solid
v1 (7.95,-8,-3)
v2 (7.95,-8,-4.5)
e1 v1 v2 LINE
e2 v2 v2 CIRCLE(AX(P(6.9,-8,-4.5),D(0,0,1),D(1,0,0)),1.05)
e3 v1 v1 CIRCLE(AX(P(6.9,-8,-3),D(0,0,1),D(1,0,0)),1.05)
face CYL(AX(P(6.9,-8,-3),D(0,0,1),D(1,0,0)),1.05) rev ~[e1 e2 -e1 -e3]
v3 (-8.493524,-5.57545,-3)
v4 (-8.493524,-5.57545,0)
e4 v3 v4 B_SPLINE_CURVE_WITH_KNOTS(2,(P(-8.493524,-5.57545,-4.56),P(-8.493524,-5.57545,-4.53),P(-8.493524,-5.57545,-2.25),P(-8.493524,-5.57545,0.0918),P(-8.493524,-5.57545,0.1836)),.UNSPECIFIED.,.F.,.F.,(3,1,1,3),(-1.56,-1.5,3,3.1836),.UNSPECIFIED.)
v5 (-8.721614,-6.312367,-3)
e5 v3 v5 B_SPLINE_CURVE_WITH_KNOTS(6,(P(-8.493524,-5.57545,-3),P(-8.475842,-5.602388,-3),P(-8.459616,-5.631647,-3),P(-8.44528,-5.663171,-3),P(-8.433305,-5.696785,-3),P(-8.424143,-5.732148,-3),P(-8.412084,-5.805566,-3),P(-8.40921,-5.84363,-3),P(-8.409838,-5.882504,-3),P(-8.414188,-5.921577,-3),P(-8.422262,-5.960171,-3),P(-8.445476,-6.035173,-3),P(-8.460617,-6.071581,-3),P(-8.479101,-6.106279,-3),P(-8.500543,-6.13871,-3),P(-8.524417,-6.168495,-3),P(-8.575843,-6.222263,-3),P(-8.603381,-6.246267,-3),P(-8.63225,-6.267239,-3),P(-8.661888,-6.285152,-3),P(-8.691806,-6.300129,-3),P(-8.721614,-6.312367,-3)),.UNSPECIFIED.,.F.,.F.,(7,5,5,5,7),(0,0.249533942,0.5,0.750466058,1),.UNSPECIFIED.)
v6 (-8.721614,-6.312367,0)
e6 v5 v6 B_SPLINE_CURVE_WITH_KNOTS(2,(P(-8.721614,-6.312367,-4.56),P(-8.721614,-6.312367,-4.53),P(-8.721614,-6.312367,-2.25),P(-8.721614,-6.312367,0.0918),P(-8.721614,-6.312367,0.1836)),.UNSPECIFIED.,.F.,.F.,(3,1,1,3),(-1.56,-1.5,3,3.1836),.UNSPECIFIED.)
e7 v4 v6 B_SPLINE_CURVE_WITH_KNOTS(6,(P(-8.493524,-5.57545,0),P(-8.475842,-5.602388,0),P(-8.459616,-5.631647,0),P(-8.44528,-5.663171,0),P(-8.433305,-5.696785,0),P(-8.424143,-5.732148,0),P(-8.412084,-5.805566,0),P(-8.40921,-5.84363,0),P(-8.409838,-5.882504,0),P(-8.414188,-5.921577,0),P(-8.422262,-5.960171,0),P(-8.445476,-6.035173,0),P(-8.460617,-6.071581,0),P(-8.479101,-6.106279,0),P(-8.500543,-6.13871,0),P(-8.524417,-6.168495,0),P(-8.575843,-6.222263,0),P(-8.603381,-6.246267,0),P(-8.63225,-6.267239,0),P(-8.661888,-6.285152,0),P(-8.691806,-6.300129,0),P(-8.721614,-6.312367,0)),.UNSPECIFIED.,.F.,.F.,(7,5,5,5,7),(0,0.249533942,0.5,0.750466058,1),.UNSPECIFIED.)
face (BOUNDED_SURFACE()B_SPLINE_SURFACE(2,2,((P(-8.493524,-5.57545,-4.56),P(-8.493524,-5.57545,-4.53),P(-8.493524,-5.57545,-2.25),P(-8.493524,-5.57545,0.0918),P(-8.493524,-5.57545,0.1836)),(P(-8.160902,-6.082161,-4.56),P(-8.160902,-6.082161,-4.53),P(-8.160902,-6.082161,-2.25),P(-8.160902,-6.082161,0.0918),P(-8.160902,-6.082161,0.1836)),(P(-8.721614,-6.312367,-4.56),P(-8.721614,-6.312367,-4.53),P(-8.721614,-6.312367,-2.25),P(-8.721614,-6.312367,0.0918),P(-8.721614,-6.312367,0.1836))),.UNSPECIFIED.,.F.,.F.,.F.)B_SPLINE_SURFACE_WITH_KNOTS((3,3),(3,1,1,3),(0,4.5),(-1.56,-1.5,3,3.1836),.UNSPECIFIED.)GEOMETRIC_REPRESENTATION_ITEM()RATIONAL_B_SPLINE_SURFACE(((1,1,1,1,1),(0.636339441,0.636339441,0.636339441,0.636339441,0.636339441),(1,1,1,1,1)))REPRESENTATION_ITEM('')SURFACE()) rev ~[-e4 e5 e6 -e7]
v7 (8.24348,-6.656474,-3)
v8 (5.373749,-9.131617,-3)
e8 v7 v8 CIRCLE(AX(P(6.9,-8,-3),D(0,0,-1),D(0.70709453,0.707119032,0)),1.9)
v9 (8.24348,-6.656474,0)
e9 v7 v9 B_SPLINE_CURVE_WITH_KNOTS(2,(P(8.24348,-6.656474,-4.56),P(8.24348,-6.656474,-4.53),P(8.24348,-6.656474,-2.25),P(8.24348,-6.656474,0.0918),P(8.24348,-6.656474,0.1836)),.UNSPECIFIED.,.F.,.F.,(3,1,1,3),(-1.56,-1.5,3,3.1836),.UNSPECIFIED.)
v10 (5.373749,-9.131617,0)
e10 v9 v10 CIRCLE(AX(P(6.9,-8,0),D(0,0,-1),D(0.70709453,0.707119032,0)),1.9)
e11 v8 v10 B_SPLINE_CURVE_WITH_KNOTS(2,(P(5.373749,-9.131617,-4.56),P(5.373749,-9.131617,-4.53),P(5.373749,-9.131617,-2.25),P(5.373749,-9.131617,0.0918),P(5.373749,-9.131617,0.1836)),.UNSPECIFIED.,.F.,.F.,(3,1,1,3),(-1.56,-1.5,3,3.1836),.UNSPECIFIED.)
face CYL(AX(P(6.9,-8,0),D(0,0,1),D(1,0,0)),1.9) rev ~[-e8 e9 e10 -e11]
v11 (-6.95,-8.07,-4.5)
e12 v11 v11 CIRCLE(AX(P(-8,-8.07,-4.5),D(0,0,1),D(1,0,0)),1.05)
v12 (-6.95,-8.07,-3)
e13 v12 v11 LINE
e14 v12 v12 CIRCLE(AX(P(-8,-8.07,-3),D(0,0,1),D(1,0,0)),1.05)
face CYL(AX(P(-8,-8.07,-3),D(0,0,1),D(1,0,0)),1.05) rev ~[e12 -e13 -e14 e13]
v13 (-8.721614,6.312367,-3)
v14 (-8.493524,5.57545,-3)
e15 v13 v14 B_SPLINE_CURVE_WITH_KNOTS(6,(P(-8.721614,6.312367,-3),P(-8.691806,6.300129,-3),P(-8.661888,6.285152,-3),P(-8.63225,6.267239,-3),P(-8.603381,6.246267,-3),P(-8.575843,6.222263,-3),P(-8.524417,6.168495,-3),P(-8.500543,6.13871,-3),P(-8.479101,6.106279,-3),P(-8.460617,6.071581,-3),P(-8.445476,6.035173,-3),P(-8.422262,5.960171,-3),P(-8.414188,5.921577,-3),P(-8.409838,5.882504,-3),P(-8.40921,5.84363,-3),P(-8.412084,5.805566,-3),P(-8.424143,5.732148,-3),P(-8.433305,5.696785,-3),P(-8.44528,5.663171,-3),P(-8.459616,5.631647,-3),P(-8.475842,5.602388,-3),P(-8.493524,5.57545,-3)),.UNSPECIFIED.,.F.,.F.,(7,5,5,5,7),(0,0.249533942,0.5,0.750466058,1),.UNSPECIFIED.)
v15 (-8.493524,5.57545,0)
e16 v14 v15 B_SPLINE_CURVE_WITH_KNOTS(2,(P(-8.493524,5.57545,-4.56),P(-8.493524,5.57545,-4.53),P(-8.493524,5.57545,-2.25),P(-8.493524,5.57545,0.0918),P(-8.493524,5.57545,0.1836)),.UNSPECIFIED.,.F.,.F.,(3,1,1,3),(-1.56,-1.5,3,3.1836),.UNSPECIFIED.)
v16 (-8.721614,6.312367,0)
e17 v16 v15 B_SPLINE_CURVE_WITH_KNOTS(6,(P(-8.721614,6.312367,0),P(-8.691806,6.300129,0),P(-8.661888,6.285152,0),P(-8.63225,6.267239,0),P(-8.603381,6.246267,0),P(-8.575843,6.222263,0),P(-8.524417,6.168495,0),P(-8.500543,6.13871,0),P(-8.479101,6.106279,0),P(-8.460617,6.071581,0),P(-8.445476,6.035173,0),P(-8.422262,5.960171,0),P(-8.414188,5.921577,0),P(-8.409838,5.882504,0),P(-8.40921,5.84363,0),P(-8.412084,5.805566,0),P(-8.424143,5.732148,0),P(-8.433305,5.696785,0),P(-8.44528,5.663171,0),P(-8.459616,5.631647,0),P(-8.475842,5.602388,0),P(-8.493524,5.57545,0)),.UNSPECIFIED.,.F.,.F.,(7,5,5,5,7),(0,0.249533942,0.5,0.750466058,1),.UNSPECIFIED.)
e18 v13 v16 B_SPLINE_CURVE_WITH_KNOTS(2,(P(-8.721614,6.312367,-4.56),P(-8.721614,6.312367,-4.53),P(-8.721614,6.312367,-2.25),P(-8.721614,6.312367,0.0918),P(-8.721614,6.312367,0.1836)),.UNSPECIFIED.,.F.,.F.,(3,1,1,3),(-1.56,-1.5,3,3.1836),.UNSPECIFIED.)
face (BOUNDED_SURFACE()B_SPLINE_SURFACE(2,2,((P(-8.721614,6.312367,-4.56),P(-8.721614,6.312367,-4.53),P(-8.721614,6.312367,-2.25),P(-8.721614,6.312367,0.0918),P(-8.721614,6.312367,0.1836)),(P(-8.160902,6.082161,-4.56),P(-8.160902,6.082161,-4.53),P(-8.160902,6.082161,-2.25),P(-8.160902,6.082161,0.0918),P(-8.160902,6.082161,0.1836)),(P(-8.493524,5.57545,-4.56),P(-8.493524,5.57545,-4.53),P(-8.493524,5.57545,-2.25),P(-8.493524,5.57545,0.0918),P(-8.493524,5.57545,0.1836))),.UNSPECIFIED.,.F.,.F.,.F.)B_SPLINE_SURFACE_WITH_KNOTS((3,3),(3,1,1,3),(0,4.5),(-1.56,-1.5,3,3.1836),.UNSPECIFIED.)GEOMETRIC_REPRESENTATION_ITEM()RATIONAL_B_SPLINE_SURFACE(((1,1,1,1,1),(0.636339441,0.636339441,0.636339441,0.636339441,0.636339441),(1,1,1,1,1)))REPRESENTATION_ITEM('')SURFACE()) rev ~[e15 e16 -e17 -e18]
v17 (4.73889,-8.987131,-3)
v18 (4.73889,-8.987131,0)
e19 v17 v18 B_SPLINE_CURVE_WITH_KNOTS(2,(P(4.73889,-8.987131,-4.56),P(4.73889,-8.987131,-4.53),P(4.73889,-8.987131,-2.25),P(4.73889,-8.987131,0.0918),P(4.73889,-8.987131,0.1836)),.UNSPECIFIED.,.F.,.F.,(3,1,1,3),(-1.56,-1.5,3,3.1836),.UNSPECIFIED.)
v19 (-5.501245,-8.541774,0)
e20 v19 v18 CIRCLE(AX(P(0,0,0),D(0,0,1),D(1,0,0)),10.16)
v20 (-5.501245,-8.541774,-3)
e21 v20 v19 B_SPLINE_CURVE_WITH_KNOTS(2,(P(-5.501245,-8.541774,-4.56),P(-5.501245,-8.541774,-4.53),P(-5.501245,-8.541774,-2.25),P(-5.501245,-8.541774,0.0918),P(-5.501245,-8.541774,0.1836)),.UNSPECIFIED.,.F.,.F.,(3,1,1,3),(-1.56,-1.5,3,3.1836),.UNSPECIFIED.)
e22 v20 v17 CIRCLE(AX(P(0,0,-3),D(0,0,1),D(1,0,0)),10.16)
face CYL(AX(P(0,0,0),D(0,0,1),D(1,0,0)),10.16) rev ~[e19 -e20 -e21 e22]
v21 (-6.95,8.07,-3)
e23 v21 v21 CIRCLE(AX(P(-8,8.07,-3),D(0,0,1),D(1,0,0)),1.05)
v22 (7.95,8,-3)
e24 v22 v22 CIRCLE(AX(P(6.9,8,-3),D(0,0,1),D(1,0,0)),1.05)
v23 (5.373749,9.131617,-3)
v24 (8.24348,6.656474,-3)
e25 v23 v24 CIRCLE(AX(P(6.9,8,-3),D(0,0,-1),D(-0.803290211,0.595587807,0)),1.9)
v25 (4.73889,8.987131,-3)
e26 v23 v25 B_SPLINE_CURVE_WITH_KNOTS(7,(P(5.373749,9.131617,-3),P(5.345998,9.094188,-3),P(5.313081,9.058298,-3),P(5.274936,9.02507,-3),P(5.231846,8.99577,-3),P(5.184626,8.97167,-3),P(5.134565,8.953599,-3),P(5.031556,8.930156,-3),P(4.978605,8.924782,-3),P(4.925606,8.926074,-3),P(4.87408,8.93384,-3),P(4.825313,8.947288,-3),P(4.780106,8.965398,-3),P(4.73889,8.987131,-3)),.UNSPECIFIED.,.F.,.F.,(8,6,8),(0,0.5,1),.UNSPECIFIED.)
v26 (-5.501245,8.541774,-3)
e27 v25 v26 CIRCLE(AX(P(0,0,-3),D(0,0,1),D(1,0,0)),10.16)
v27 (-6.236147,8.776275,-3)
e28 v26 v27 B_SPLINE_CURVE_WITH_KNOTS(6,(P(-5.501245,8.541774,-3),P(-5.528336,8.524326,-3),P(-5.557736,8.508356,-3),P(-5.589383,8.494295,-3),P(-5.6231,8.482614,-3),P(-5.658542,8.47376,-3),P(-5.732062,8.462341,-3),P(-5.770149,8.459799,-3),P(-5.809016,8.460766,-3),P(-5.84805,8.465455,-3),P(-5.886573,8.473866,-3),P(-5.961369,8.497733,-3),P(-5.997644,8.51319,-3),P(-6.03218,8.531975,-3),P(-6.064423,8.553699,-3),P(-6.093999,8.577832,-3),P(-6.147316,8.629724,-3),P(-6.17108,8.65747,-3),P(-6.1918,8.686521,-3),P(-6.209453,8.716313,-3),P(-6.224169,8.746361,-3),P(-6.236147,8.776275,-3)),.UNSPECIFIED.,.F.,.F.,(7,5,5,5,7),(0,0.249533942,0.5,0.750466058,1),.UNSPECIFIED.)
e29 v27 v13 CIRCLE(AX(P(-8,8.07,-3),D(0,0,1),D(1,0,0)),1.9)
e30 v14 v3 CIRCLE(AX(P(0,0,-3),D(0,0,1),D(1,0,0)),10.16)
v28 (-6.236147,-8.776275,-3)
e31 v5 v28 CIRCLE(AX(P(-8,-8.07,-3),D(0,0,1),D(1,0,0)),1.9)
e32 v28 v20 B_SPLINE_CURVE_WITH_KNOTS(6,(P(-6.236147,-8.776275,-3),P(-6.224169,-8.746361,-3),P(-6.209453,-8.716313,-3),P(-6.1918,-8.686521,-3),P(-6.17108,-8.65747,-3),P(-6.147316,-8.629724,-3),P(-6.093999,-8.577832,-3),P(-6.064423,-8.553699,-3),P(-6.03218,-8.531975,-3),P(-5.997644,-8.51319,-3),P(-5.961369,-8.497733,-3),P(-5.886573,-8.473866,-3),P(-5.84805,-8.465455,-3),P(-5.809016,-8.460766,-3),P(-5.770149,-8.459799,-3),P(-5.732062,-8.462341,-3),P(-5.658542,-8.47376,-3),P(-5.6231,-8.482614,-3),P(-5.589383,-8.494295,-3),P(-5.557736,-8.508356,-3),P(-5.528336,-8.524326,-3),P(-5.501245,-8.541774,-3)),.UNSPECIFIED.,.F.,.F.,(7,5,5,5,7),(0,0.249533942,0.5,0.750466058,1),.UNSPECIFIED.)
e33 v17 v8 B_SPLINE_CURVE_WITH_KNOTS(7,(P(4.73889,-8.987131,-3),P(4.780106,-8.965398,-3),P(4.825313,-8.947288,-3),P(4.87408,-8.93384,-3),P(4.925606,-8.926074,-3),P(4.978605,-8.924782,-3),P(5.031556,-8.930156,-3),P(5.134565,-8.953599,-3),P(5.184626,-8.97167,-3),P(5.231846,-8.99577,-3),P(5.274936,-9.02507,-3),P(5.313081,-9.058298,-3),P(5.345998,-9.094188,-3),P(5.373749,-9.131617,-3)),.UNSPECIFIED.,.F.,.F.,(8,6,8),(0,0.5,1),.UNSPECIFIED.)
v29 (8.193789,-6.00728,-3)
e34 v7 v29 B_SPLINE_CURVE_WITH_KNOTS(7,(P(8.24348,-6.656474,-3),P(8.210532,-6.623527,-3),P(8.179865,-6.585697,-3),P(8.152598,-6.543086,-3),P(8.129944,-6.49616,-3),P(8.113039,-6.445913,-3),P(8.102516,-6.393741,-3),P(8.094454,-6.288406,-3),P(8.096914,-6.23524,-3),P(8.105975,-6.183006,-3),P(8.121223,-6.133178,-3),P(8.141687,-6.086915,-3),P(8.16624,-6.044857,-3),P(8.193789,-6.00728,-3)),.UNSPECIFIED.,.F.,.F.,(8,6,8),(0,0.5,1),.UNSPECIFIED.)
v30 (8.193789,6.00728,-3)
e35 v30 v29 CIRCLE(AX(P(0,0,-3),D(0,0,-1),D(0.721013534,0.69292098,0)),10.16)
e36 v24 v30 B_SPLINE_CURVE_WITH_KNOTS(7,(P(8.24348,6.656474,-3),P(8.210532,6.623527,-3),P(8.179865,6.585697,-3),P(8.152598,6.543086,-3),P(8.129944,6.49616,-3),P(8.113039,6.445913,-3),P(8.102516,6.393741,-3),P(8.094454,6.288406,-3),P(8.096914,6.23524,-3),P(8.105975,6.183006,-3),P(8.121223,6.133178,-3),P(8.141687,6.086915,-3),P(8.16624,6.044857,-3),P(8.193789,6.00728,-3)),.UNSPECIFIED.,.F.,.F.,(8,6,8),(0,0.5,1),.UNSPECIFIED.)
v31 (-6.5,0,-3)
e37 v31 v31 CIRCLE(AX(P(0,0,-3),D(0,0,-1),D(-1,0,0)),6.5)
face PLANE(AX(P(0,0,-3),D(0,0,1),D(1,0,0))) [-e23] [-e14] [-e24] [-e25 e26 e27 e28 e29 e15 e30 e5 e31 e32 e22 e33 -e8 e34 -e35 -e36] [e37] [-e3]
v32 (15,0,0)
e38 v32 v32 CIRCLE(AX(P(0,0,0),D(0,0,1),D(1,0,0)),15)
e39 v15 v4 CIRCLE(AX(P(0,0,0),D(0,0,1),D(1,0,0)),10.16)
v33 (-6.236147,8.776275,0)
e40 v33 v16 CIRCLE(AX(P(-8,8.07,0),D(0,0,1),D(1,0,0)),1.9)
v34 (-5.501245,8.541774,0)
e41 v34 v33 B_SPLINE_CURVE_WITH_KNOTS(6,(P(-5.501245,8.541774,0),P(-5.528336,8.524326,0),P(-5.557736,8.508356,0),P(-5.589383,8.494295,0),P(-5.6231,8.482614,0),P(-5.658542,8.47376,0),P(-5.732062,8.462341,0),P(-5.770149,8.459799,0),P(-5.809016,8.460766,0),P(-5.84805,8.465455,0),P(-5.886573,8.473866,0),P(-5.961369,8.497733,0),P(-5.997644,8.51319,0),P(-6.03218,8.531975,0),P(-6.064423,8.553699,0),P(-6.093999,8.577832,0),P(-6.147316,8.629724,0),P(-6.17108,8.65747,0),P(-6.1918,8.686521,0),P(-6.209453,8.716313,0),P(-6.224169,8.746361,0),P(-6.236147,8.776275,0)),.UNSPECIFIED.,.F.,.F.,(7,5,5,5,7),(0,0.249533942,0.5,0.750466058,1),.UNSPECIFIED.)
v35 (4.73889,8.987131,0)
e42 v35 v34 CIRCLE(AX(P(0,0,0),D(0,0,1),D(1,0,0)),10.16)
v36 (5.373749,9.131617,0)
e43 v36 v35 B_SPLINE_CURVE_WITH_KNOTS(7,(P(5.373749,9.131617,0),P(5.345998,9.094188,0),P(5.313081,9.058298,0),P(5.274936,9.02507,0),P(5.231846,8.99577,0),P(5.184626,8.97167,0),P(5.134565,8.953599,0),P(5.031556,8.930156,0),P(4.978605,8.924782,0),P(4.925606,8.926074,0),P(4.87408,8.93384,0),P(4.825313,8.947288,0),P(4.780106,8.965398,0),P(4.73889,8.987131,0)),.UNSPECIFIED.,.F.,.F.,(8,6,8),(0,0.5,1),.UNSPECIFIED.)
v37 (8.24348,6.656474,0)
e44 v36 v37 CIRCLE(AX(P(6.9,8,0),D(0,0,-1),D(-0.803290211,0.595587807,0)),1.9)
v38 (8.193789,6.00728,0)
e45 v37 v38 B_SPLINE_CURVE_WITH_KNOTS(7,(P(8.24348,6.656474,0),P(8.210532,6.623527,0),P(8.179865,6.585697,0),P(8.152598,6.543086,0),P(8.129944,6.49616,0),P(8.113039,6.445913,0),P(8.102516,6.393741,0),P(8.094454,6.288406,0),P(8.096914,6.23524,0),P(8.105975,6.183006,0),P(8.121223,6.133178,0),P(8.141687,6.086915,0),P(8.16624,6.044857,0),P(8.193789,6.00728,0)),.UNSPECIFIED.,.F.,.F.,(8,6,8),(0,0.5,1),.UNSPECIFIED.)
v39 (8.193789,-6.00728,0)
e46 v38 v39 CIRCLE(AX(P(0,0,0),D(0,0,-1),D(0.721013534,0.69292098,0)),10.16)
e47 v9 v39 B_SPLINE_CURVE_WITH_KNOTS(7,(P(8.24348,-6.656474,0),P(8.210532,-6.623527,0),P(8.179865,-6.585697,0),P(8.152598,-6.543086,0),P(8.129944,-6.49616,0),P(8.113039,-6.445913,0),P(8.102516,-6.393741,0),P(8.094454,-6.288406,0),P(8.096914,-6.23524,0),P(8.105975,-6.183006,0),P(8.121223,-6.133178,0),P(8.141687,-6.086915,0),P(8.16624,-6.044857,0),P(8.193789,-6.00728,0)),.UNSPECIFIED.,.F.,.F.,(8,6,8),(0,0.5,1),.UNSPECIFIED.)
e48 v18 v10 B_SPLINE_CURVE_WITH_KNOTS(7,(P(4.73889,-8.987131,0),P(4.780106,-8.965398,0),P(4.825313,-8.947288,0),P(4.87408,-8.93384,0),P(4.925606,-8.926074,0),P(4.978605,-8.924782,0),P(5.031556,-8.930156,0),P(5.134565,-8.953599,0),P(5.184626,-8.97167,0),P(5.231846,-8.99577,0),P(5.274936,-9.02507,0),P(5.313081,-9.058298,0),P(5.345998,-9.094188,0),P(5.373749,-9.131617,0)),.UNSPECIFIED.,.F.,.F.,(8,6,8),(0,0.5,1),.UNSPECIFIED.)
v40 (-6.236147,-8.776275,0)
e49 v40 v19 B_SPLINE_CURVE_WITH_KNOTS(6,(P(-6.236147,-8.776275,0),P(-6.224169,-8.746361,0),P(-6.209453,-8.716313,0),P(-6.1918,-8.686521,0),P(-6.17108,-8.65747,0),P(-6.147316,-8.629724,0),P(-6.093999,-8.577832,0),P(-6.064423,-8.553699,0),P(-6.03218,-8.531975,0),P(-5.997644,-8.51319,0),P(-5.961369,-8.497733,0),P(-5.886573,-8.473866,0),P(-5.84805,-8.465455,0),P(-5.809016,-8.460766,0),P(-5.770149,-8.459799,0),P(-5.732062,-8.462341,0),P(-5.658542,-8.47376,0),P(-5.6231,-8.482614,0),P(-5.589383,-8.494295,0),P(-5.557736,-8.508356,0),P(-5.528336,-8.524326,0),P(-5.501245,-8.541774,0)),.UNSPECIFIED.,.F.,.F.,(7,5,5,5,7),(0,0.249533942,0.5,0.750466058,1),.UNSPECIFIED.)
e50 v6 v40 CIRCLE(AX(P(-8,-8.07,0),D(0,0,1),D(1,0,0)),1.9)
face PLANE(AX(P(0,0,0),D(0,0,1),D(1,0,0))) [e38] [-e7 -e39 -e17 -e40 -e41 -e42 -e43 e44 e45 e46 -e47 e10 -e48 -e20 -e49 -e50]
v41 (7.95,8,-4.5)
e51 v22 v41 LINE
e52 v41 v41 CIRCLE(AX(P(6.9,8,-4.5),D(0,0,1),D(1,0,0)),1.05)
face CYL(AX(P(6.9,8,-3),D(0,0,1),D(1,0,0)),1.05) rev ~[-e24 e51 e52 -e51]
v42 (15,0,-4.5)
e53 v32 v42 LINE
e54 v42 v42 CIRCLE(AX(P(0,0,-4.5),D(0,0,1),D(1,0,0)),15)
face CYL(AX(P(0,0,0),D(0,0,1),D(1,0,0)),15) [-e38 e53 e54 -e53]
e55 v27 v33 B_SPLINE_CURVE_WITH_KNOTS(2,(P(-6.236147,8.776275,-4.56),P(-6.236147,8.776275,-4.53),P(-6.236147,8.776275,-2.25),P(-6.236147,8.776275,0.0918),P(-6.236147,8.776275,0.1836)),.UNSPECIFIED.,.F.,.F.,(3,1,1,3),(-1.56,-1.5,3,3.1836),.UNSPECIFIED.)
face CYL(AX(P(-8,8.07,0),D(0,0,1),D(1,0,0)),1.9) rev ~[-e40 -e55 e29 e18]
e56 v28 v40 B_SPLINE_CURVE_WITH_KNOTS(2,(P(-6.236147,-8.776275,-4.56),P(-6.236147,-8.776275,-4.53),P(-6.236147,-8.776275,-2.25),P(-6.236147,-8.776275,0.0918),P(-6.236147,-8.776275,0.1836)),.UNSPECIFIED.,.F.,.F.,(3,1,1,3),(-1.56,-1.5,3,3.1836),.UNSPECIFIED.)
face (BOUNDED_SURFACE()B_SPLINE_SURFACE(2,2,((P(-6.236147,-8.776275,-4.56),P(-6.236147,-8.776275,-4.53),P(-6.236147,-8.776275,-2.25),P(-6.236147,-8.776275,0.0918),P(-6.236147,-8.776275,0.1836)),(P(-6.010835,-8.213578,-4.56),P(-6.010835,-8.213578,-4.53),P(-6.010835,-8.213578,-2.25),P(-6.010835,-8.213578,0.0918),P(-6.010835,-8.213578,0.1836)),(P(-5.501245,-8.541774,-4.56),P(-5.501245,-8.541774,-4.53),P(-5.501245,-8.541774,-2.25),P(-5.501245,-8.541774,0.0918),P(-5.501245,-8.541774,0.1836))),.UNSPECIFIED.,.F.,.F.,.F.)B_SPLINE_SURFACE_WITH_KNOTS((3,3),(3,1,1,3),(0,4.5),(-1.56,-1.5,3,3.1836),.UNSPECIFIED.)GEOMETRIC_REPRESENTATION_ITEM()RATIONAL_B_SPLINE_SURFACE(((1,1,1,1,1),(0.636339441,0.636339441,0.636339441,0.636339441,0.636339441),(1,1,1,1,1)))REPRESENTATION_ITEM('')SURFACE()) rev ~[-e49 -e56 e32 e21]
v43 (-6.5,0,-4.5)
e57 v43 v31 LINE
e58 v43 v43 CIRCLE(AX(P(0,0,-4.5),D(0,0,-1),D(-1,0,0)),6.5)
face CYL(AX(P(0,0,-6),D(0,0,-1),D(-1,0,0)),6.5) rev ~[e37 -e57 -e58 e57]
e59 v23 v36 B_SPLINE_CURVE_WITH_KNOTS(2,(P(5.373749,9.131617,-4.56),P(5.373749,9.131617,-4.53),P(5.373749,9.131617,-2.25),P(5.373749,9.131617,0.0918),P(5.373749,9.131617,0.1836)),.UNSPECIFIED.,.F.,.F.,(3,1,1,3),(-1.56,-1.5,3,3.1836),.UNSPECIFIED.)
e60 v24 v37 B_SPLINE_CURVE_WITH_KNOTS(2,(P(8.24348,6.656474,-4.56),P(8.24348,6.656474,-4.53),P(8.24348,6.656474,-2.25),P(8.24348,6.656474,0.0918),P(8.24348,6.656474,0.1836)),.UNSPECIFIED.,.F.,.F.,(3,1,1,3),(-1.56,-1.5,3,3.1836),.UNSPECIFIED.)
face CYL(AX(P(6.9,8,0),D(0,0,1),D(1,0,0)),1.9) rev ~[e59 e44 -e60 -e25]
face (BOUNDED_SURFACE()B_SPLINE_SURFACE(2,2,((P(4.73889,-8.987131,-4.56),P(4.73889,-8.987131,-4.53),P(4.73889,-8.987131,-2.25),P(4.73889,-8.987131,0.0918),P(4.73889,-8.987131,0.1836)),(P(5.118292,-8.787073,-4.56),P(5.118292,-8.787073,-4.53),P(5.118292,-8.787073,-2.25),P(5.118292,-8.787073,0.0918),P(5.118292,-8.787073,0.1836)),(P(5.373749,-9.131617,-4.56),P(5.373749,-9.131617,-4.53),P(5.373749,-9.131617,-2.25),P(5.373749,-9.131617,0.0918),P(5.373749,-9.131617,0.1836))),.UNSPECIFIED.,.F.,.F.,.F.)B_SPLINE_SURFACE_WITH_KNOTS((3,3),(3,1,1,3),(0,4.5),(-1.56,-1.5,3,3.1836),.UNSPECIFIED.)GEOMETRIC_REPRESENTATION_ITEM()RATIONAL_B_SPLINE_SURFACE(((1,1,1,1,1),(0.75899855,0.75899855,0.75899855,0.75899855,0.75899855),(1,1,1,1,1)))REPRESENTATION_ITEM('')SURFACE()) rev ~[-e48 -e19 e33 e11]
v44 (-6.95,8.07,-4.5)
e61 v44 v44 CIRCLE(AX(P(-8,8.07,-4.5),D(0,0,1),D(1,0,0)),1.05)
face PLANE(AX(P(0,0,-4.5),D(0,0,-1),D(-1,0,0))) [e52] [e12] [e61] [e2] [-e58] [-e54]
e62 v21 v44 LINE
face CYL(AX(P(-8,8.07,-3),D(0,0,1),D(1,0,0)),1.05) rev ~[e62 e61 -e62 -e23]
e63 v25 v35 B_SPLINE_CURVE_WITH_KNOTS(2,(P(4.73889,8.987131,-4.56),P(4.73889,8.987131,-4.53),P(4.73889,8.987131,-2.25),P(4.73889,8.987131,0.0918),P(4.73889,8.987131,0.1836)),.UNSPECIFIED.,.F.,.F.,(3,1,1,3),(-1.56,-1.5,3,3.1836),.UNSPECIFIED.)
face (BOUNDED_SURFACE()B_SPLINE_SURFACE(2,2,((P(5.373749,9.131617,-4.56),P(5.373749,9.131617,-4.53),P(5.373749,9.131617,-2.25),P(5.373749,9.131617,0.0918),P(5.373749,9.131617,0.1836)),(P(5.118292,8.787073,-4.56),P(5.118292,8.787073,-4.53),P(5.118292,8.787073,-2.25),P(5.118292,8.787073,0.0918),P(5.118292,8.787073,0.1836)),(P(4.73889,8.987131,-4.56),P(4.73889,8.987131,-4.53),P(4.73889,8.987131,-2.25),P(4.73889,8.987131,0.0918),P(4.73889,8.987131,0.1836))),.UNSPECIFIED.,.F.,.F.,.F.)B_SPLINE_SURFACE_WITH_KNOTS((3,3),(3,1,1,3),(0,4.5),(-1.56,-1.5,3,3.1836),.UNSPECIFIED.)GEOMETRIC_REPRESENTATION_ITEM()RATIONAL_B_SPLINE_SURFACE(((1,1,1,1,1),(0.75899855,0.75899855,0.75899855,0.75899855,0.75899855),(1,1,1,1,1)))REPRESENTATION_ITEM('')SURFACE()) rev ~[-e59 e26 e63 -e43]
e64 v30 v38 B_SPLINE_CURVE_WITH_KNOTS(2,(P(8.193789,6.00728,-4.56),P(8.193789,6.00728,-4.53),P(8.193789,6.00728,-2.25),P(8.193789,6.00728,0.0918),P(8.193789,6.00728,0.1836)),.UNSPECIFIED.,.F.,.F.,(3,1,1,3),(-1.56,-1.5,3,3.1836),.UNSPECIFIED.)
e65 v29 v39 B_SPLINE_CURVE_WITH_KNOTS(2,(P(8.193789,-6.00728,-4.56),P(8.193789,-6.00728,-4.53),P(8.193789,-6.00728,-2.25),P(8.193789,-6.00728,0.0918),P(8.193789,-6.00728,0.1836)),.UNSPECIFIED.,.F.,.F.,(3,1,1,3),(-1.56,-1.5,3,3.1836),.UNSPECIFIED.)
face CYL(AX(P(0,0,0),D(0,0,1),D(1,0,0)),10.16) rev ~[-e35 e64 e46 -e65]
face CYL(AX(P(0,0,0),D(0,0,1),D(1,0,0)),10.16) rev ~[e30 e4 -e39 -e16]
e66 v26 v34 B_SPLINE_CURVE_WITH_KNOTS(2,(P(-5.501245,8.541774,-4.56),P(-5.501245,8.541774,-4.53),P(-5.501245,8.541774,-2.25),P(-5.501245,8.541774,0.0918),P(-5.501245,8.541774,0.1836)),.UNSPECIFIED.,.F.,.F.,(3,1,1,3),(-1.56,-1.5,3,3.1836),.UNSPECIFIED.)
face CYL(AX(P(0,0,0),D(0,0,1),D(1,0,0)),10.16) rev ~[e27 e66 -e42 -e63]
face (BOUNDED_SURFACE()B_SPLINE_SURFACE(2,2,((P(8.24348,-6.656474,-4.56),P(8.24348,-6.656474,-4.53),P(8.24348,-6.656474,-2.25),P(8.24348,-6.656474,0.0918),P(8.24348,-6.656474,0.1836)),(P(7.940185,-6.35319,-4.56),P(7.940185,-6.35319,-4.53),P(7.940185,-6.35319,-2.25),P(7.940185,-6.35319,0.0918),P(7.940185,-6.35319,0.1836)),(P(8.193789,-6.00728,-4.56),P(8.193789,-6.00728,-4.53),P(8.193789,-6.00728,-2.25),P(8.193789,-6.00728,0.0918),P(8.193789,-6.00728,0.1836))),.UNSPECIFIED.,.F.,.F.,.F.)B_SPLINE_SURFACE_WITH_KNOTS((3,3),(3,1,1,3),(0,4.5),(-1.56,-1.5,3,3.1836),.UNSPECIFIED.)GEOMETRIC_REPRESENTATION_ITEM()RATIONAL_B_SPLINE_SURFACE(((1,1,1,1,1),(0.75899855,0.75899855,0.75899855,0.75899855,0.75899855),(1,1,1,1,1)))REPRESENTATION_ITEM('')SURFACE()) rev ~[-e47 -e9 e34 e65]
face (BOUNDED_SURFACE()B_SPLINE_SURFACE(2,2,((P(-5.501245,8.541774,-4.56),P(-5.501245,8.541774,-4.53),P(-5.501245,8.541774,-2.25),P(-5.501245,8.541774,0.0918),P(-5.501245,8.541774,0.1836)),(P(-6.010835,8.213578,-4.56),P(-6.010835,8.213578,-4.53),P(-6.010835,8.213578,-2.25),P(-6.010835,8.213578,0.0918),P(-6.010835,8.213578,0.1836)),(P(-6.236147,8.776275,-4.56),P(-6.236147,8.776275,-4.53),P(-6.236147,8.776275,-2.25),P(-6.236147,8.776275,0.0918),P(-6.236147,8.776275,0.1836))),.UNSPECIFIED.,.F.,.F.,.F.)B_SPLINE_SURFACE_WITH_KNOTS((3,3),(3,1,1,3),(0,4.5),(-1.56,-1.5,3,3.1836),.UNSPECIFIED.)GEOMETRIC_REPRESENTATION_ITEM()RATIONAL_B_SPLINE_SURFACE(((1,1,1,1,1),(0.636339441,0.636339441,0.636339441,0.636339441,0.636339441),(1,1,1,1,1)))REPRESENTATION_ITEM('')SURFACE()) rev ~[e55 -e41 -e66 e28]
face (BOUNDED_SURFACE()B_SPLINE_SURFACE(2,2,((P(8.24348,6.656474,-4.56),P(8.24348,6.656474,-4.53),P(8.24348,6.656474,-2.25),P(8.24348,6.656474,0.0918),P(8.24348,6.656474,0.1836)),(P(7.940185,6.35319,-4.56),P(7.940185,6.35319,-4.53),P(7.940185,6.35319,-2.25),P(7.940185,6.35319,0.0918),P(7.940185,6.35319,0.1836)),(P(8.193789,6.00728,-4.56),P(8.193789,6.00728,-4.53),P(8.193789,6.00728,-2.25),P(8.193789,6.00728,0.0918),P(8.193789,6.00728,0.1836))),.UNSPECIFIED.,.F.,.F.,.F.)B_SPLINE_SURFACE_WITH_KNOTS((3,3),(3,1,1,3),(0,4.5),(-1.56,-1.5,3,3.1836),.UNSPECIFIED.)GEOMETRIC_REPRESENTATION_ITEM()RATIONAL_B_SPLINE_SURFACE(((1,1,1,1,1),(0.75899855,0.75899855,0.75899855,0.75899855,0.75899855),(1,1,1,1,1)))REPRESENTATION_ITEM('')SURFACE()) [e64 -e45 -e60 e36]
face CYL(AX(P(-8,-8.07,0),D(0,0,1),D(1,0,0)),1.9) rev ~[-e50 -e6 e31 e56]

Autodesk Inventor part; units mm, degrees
ref_plane "YZ Plane" through (0, 0, 0) normal (1, 0, 0) x (0, 1, 0)
ref_plane "XZ Plane" through (0, 0, 0) normal (0, 1, 0) x (-1, 0, 0)
ref_plane "XY Plane" through (0, 0, 0) normal (0, 0, 1) x (1, 0, 0)
sketch "Sketch8" plane through (0, 0, 0) normal (0, 0, 1) x (1, 0, 0)
  circle A0 centre (0, 0) radius 15
  dimension "d33" = 30
extrude "Extrusion7" add sketch "Sketch8" against normal blind 8
sketch "Sketch10" plane through (0, 0, -8) normal (0, 0, -1) x (-1, 0, 0)
  line L0 (9, 10.07) -> (-29.1, 10.07)
  arc A0 (10, 9.07) -> (9, 10.07) centre (9, 9.07) ccw
  line L1 (10, 9.07) -> (10, -9.07)
  arc A1 (9, -10.07) -> (10, -9.07) centre (9, -9.07) ccw
  line L2 (-29.1, -10.07) -> (9, -10.07)
  line L3 (-29.1, 10.07) -> (-29.1, -10.07)
  line L4 (10.4, -9.07) -> (10.4, 9.07)
  arc A2 (10.4, 9.07) -> (9, 10.47) centre (9, 9.07) ccw
  line L5 (9, 10.47) -> (-29.5, 10.47)
  line L6 (-29.5, 10.47) -> (-29.5, -10.47)
  line L7 (-29.5, -10.47) -> (9, -10.47)
  arc A3 (9, -10.47) -> (10.4, -9.07) centre (9, -9.07) ccw
  dimension "d59" = 0.4
extrude "Extrusion8" cut sketch "Sketch10" against normal blind 2 contours A0 L1 A1 L2 L3 L0 | A3 L7 L6 L5 A2 L4
sketch "Sketch11" plane through (0, 0, -6) normal (0, 0, -1) x (-1, 0, 0)
  circle A0 centre (0, 0) radius 6.4
  circle A1 centre (0, 0) radius 6.5
  point P0 (0, 0)
  dimension "d58" = 13
extrude "Extrusion9" cut sketch "Sketch11" against normal through all contours A0 | A1
sketch "Sketch13" plane through (0, 0, 0) normal (0, 0, 1) x (1, 0, 0)
  circle A0 centre (0, 0) radius 9.96
  circle A1 centre (0, 0) radius 10.16
  point P0 (0, 0)
  dimension "d44" = 0.2
extrude "Extrusion11" cut sketch "Sketch13" against normal blind 3 contours A0 | A1
sketch "Sketch14" plane through (0, 0, 0) normal (0, 0, 1) x (1, 0, 0)
  circle A0 centre (6.9, 8) radius 0.7835
  circle A1 centre (6.9, -8) radius 0.7835
  circle A2 centre (-8, 8.07) radius 1
  circle A3 centre (-8, -8.07) radius 1
  point P0 (0, 0)
hole "Hole2" at (6.9, 8, 0) at (-8, 8.07, 0) at (-8, -8.07, 0) at (6.9, -8, 0) direction (0, 0, -1) diameter 2.1 end through all
sketch "Sketch15" plane through (0, 0, 0) normal (0, 0, 1) x (1, 0, 0)
  arc A0 (7.3255, 7.0401) -> (5.888, 8.2799) centre (6.9, 8) ccw projected
  arc A1 (5.888, -8.2799) -> (7.3255, -7.0401) centre (6.9, -8) ccw projected
  circle A2 centre (-8, 8.07) radius 1.05 projected
  circle A3 centre (-8, -8.07) radius 1.05 projected
  circle A4 centre (6.9, 8) radius 1.9
  circle A5 centre (6.9, -8) radius 1.9
  circle A6 centre (-8, -8.07) radius 1.9
  circle A7 centre (-8, 8.07) radius 1.9
  point P0 (0, 0)
  dimension "d54" = 3.8
extrude "Extrusion12" cut sketch "Sketch15" against normal blind 4.5 contours A2 | A3 | A4 | A5 | A6 | A7
fillet "Fillet2" radius 0.5 8 edges at (5.1562, 8.7544, -1.5) (7.9023, 6.3859, -1.5) (-6.1008, 8.1244, -1.5) (-8.071, 6.1713, -1.5) (-8.071, -6.1713, -1.5) (-6.1008, -8.1244, -1.5) (5.1562, -8.7544, -1.5) (7.9023, -6.3859, -1.5)
sketch "Sketch16" plane through (0, 0, -8) normal (0, 0, -1) x (-1, 0, 0)
  circle A0 centre (-6.9, -8) radius 1.05 projected
  circle A1 centre (8, -8.07) radius 1.05 projected
  circle A2 centre (8, 8.07) radius 1.05 projected
  circle A3 centre (-6.9, 8) radius 1.05 projected
  circle A4 centre (0, 0) radius 6.5 projected
  arc A5 (-10.7415, 10.47) -> (-10.7415, -10.47) centre (0, 0) ccw projected
  line L0 (9, -10.47) -> (-10.7415, -10.47) projected
  arc A6 (9, -10.47) -> (10.4, -9.07) centre (9, -9.07) ccw projected
  line L1 (10.4, 9.07) -> (10.4, -9.07) projected
  arc A7 (10.4, 9.07) -> (9, 10.47) centre (9, 9.07) ccw projected
  line L2 (-10.7415, 10.47) -> (9, 10.47) projected
  line L3 (-10.7415, 10.47) -> (9, 10.47) projected
  arc A8 (10.4, 9.07) -> (9, 10.47) centre (9, 9.07) ccw projected
  line L4 (10.4, 9.07) -> (10.4, -9.07) projected
  arc A9 (9, -10.47) -> (10.4, -9.07) centre (9, -9.07) ccw projected
  line L5 (9, -10.47) -> (-10.7415, -10.47) projected
  arc A10 (-10.7415, -10.47) -> (-10.7415, 10.47) centre (0, 0) ccw projected
sketch "Sketch17" plane through (0, 0, -3) normal (0, 0, 1) x (1, 0, 0)
  circle A0 centre (6.9, 8) radius 1.05 projected
  circle A1 centre (6.9, 8) radius 1.9 projected
  circle A2 centre (6.9, -8) radius 1.05 projected
  circle A3 centre (6.9, -8) radius 1.9 projected
  circle A4 centre (-8, 8.07) radius 1.05 projected
  circle A5 centre (-8, 8.07) radius 1.9 projected
  circle A6 centre (-8, -8.07) radius 1.05 projected
  circle A7 centre (-8, -8.07) radius 1.9 projected
  point P0 (0, 0)
extrude "Extrusion13" add sketch "Sketch17" against normal blind 1.5
extrude "Extrusion14" cut sketch "Sketch16" against normal blind 3.5
properties part number "frame_motor_support_top" material "Aluminum 6061-AHC"
